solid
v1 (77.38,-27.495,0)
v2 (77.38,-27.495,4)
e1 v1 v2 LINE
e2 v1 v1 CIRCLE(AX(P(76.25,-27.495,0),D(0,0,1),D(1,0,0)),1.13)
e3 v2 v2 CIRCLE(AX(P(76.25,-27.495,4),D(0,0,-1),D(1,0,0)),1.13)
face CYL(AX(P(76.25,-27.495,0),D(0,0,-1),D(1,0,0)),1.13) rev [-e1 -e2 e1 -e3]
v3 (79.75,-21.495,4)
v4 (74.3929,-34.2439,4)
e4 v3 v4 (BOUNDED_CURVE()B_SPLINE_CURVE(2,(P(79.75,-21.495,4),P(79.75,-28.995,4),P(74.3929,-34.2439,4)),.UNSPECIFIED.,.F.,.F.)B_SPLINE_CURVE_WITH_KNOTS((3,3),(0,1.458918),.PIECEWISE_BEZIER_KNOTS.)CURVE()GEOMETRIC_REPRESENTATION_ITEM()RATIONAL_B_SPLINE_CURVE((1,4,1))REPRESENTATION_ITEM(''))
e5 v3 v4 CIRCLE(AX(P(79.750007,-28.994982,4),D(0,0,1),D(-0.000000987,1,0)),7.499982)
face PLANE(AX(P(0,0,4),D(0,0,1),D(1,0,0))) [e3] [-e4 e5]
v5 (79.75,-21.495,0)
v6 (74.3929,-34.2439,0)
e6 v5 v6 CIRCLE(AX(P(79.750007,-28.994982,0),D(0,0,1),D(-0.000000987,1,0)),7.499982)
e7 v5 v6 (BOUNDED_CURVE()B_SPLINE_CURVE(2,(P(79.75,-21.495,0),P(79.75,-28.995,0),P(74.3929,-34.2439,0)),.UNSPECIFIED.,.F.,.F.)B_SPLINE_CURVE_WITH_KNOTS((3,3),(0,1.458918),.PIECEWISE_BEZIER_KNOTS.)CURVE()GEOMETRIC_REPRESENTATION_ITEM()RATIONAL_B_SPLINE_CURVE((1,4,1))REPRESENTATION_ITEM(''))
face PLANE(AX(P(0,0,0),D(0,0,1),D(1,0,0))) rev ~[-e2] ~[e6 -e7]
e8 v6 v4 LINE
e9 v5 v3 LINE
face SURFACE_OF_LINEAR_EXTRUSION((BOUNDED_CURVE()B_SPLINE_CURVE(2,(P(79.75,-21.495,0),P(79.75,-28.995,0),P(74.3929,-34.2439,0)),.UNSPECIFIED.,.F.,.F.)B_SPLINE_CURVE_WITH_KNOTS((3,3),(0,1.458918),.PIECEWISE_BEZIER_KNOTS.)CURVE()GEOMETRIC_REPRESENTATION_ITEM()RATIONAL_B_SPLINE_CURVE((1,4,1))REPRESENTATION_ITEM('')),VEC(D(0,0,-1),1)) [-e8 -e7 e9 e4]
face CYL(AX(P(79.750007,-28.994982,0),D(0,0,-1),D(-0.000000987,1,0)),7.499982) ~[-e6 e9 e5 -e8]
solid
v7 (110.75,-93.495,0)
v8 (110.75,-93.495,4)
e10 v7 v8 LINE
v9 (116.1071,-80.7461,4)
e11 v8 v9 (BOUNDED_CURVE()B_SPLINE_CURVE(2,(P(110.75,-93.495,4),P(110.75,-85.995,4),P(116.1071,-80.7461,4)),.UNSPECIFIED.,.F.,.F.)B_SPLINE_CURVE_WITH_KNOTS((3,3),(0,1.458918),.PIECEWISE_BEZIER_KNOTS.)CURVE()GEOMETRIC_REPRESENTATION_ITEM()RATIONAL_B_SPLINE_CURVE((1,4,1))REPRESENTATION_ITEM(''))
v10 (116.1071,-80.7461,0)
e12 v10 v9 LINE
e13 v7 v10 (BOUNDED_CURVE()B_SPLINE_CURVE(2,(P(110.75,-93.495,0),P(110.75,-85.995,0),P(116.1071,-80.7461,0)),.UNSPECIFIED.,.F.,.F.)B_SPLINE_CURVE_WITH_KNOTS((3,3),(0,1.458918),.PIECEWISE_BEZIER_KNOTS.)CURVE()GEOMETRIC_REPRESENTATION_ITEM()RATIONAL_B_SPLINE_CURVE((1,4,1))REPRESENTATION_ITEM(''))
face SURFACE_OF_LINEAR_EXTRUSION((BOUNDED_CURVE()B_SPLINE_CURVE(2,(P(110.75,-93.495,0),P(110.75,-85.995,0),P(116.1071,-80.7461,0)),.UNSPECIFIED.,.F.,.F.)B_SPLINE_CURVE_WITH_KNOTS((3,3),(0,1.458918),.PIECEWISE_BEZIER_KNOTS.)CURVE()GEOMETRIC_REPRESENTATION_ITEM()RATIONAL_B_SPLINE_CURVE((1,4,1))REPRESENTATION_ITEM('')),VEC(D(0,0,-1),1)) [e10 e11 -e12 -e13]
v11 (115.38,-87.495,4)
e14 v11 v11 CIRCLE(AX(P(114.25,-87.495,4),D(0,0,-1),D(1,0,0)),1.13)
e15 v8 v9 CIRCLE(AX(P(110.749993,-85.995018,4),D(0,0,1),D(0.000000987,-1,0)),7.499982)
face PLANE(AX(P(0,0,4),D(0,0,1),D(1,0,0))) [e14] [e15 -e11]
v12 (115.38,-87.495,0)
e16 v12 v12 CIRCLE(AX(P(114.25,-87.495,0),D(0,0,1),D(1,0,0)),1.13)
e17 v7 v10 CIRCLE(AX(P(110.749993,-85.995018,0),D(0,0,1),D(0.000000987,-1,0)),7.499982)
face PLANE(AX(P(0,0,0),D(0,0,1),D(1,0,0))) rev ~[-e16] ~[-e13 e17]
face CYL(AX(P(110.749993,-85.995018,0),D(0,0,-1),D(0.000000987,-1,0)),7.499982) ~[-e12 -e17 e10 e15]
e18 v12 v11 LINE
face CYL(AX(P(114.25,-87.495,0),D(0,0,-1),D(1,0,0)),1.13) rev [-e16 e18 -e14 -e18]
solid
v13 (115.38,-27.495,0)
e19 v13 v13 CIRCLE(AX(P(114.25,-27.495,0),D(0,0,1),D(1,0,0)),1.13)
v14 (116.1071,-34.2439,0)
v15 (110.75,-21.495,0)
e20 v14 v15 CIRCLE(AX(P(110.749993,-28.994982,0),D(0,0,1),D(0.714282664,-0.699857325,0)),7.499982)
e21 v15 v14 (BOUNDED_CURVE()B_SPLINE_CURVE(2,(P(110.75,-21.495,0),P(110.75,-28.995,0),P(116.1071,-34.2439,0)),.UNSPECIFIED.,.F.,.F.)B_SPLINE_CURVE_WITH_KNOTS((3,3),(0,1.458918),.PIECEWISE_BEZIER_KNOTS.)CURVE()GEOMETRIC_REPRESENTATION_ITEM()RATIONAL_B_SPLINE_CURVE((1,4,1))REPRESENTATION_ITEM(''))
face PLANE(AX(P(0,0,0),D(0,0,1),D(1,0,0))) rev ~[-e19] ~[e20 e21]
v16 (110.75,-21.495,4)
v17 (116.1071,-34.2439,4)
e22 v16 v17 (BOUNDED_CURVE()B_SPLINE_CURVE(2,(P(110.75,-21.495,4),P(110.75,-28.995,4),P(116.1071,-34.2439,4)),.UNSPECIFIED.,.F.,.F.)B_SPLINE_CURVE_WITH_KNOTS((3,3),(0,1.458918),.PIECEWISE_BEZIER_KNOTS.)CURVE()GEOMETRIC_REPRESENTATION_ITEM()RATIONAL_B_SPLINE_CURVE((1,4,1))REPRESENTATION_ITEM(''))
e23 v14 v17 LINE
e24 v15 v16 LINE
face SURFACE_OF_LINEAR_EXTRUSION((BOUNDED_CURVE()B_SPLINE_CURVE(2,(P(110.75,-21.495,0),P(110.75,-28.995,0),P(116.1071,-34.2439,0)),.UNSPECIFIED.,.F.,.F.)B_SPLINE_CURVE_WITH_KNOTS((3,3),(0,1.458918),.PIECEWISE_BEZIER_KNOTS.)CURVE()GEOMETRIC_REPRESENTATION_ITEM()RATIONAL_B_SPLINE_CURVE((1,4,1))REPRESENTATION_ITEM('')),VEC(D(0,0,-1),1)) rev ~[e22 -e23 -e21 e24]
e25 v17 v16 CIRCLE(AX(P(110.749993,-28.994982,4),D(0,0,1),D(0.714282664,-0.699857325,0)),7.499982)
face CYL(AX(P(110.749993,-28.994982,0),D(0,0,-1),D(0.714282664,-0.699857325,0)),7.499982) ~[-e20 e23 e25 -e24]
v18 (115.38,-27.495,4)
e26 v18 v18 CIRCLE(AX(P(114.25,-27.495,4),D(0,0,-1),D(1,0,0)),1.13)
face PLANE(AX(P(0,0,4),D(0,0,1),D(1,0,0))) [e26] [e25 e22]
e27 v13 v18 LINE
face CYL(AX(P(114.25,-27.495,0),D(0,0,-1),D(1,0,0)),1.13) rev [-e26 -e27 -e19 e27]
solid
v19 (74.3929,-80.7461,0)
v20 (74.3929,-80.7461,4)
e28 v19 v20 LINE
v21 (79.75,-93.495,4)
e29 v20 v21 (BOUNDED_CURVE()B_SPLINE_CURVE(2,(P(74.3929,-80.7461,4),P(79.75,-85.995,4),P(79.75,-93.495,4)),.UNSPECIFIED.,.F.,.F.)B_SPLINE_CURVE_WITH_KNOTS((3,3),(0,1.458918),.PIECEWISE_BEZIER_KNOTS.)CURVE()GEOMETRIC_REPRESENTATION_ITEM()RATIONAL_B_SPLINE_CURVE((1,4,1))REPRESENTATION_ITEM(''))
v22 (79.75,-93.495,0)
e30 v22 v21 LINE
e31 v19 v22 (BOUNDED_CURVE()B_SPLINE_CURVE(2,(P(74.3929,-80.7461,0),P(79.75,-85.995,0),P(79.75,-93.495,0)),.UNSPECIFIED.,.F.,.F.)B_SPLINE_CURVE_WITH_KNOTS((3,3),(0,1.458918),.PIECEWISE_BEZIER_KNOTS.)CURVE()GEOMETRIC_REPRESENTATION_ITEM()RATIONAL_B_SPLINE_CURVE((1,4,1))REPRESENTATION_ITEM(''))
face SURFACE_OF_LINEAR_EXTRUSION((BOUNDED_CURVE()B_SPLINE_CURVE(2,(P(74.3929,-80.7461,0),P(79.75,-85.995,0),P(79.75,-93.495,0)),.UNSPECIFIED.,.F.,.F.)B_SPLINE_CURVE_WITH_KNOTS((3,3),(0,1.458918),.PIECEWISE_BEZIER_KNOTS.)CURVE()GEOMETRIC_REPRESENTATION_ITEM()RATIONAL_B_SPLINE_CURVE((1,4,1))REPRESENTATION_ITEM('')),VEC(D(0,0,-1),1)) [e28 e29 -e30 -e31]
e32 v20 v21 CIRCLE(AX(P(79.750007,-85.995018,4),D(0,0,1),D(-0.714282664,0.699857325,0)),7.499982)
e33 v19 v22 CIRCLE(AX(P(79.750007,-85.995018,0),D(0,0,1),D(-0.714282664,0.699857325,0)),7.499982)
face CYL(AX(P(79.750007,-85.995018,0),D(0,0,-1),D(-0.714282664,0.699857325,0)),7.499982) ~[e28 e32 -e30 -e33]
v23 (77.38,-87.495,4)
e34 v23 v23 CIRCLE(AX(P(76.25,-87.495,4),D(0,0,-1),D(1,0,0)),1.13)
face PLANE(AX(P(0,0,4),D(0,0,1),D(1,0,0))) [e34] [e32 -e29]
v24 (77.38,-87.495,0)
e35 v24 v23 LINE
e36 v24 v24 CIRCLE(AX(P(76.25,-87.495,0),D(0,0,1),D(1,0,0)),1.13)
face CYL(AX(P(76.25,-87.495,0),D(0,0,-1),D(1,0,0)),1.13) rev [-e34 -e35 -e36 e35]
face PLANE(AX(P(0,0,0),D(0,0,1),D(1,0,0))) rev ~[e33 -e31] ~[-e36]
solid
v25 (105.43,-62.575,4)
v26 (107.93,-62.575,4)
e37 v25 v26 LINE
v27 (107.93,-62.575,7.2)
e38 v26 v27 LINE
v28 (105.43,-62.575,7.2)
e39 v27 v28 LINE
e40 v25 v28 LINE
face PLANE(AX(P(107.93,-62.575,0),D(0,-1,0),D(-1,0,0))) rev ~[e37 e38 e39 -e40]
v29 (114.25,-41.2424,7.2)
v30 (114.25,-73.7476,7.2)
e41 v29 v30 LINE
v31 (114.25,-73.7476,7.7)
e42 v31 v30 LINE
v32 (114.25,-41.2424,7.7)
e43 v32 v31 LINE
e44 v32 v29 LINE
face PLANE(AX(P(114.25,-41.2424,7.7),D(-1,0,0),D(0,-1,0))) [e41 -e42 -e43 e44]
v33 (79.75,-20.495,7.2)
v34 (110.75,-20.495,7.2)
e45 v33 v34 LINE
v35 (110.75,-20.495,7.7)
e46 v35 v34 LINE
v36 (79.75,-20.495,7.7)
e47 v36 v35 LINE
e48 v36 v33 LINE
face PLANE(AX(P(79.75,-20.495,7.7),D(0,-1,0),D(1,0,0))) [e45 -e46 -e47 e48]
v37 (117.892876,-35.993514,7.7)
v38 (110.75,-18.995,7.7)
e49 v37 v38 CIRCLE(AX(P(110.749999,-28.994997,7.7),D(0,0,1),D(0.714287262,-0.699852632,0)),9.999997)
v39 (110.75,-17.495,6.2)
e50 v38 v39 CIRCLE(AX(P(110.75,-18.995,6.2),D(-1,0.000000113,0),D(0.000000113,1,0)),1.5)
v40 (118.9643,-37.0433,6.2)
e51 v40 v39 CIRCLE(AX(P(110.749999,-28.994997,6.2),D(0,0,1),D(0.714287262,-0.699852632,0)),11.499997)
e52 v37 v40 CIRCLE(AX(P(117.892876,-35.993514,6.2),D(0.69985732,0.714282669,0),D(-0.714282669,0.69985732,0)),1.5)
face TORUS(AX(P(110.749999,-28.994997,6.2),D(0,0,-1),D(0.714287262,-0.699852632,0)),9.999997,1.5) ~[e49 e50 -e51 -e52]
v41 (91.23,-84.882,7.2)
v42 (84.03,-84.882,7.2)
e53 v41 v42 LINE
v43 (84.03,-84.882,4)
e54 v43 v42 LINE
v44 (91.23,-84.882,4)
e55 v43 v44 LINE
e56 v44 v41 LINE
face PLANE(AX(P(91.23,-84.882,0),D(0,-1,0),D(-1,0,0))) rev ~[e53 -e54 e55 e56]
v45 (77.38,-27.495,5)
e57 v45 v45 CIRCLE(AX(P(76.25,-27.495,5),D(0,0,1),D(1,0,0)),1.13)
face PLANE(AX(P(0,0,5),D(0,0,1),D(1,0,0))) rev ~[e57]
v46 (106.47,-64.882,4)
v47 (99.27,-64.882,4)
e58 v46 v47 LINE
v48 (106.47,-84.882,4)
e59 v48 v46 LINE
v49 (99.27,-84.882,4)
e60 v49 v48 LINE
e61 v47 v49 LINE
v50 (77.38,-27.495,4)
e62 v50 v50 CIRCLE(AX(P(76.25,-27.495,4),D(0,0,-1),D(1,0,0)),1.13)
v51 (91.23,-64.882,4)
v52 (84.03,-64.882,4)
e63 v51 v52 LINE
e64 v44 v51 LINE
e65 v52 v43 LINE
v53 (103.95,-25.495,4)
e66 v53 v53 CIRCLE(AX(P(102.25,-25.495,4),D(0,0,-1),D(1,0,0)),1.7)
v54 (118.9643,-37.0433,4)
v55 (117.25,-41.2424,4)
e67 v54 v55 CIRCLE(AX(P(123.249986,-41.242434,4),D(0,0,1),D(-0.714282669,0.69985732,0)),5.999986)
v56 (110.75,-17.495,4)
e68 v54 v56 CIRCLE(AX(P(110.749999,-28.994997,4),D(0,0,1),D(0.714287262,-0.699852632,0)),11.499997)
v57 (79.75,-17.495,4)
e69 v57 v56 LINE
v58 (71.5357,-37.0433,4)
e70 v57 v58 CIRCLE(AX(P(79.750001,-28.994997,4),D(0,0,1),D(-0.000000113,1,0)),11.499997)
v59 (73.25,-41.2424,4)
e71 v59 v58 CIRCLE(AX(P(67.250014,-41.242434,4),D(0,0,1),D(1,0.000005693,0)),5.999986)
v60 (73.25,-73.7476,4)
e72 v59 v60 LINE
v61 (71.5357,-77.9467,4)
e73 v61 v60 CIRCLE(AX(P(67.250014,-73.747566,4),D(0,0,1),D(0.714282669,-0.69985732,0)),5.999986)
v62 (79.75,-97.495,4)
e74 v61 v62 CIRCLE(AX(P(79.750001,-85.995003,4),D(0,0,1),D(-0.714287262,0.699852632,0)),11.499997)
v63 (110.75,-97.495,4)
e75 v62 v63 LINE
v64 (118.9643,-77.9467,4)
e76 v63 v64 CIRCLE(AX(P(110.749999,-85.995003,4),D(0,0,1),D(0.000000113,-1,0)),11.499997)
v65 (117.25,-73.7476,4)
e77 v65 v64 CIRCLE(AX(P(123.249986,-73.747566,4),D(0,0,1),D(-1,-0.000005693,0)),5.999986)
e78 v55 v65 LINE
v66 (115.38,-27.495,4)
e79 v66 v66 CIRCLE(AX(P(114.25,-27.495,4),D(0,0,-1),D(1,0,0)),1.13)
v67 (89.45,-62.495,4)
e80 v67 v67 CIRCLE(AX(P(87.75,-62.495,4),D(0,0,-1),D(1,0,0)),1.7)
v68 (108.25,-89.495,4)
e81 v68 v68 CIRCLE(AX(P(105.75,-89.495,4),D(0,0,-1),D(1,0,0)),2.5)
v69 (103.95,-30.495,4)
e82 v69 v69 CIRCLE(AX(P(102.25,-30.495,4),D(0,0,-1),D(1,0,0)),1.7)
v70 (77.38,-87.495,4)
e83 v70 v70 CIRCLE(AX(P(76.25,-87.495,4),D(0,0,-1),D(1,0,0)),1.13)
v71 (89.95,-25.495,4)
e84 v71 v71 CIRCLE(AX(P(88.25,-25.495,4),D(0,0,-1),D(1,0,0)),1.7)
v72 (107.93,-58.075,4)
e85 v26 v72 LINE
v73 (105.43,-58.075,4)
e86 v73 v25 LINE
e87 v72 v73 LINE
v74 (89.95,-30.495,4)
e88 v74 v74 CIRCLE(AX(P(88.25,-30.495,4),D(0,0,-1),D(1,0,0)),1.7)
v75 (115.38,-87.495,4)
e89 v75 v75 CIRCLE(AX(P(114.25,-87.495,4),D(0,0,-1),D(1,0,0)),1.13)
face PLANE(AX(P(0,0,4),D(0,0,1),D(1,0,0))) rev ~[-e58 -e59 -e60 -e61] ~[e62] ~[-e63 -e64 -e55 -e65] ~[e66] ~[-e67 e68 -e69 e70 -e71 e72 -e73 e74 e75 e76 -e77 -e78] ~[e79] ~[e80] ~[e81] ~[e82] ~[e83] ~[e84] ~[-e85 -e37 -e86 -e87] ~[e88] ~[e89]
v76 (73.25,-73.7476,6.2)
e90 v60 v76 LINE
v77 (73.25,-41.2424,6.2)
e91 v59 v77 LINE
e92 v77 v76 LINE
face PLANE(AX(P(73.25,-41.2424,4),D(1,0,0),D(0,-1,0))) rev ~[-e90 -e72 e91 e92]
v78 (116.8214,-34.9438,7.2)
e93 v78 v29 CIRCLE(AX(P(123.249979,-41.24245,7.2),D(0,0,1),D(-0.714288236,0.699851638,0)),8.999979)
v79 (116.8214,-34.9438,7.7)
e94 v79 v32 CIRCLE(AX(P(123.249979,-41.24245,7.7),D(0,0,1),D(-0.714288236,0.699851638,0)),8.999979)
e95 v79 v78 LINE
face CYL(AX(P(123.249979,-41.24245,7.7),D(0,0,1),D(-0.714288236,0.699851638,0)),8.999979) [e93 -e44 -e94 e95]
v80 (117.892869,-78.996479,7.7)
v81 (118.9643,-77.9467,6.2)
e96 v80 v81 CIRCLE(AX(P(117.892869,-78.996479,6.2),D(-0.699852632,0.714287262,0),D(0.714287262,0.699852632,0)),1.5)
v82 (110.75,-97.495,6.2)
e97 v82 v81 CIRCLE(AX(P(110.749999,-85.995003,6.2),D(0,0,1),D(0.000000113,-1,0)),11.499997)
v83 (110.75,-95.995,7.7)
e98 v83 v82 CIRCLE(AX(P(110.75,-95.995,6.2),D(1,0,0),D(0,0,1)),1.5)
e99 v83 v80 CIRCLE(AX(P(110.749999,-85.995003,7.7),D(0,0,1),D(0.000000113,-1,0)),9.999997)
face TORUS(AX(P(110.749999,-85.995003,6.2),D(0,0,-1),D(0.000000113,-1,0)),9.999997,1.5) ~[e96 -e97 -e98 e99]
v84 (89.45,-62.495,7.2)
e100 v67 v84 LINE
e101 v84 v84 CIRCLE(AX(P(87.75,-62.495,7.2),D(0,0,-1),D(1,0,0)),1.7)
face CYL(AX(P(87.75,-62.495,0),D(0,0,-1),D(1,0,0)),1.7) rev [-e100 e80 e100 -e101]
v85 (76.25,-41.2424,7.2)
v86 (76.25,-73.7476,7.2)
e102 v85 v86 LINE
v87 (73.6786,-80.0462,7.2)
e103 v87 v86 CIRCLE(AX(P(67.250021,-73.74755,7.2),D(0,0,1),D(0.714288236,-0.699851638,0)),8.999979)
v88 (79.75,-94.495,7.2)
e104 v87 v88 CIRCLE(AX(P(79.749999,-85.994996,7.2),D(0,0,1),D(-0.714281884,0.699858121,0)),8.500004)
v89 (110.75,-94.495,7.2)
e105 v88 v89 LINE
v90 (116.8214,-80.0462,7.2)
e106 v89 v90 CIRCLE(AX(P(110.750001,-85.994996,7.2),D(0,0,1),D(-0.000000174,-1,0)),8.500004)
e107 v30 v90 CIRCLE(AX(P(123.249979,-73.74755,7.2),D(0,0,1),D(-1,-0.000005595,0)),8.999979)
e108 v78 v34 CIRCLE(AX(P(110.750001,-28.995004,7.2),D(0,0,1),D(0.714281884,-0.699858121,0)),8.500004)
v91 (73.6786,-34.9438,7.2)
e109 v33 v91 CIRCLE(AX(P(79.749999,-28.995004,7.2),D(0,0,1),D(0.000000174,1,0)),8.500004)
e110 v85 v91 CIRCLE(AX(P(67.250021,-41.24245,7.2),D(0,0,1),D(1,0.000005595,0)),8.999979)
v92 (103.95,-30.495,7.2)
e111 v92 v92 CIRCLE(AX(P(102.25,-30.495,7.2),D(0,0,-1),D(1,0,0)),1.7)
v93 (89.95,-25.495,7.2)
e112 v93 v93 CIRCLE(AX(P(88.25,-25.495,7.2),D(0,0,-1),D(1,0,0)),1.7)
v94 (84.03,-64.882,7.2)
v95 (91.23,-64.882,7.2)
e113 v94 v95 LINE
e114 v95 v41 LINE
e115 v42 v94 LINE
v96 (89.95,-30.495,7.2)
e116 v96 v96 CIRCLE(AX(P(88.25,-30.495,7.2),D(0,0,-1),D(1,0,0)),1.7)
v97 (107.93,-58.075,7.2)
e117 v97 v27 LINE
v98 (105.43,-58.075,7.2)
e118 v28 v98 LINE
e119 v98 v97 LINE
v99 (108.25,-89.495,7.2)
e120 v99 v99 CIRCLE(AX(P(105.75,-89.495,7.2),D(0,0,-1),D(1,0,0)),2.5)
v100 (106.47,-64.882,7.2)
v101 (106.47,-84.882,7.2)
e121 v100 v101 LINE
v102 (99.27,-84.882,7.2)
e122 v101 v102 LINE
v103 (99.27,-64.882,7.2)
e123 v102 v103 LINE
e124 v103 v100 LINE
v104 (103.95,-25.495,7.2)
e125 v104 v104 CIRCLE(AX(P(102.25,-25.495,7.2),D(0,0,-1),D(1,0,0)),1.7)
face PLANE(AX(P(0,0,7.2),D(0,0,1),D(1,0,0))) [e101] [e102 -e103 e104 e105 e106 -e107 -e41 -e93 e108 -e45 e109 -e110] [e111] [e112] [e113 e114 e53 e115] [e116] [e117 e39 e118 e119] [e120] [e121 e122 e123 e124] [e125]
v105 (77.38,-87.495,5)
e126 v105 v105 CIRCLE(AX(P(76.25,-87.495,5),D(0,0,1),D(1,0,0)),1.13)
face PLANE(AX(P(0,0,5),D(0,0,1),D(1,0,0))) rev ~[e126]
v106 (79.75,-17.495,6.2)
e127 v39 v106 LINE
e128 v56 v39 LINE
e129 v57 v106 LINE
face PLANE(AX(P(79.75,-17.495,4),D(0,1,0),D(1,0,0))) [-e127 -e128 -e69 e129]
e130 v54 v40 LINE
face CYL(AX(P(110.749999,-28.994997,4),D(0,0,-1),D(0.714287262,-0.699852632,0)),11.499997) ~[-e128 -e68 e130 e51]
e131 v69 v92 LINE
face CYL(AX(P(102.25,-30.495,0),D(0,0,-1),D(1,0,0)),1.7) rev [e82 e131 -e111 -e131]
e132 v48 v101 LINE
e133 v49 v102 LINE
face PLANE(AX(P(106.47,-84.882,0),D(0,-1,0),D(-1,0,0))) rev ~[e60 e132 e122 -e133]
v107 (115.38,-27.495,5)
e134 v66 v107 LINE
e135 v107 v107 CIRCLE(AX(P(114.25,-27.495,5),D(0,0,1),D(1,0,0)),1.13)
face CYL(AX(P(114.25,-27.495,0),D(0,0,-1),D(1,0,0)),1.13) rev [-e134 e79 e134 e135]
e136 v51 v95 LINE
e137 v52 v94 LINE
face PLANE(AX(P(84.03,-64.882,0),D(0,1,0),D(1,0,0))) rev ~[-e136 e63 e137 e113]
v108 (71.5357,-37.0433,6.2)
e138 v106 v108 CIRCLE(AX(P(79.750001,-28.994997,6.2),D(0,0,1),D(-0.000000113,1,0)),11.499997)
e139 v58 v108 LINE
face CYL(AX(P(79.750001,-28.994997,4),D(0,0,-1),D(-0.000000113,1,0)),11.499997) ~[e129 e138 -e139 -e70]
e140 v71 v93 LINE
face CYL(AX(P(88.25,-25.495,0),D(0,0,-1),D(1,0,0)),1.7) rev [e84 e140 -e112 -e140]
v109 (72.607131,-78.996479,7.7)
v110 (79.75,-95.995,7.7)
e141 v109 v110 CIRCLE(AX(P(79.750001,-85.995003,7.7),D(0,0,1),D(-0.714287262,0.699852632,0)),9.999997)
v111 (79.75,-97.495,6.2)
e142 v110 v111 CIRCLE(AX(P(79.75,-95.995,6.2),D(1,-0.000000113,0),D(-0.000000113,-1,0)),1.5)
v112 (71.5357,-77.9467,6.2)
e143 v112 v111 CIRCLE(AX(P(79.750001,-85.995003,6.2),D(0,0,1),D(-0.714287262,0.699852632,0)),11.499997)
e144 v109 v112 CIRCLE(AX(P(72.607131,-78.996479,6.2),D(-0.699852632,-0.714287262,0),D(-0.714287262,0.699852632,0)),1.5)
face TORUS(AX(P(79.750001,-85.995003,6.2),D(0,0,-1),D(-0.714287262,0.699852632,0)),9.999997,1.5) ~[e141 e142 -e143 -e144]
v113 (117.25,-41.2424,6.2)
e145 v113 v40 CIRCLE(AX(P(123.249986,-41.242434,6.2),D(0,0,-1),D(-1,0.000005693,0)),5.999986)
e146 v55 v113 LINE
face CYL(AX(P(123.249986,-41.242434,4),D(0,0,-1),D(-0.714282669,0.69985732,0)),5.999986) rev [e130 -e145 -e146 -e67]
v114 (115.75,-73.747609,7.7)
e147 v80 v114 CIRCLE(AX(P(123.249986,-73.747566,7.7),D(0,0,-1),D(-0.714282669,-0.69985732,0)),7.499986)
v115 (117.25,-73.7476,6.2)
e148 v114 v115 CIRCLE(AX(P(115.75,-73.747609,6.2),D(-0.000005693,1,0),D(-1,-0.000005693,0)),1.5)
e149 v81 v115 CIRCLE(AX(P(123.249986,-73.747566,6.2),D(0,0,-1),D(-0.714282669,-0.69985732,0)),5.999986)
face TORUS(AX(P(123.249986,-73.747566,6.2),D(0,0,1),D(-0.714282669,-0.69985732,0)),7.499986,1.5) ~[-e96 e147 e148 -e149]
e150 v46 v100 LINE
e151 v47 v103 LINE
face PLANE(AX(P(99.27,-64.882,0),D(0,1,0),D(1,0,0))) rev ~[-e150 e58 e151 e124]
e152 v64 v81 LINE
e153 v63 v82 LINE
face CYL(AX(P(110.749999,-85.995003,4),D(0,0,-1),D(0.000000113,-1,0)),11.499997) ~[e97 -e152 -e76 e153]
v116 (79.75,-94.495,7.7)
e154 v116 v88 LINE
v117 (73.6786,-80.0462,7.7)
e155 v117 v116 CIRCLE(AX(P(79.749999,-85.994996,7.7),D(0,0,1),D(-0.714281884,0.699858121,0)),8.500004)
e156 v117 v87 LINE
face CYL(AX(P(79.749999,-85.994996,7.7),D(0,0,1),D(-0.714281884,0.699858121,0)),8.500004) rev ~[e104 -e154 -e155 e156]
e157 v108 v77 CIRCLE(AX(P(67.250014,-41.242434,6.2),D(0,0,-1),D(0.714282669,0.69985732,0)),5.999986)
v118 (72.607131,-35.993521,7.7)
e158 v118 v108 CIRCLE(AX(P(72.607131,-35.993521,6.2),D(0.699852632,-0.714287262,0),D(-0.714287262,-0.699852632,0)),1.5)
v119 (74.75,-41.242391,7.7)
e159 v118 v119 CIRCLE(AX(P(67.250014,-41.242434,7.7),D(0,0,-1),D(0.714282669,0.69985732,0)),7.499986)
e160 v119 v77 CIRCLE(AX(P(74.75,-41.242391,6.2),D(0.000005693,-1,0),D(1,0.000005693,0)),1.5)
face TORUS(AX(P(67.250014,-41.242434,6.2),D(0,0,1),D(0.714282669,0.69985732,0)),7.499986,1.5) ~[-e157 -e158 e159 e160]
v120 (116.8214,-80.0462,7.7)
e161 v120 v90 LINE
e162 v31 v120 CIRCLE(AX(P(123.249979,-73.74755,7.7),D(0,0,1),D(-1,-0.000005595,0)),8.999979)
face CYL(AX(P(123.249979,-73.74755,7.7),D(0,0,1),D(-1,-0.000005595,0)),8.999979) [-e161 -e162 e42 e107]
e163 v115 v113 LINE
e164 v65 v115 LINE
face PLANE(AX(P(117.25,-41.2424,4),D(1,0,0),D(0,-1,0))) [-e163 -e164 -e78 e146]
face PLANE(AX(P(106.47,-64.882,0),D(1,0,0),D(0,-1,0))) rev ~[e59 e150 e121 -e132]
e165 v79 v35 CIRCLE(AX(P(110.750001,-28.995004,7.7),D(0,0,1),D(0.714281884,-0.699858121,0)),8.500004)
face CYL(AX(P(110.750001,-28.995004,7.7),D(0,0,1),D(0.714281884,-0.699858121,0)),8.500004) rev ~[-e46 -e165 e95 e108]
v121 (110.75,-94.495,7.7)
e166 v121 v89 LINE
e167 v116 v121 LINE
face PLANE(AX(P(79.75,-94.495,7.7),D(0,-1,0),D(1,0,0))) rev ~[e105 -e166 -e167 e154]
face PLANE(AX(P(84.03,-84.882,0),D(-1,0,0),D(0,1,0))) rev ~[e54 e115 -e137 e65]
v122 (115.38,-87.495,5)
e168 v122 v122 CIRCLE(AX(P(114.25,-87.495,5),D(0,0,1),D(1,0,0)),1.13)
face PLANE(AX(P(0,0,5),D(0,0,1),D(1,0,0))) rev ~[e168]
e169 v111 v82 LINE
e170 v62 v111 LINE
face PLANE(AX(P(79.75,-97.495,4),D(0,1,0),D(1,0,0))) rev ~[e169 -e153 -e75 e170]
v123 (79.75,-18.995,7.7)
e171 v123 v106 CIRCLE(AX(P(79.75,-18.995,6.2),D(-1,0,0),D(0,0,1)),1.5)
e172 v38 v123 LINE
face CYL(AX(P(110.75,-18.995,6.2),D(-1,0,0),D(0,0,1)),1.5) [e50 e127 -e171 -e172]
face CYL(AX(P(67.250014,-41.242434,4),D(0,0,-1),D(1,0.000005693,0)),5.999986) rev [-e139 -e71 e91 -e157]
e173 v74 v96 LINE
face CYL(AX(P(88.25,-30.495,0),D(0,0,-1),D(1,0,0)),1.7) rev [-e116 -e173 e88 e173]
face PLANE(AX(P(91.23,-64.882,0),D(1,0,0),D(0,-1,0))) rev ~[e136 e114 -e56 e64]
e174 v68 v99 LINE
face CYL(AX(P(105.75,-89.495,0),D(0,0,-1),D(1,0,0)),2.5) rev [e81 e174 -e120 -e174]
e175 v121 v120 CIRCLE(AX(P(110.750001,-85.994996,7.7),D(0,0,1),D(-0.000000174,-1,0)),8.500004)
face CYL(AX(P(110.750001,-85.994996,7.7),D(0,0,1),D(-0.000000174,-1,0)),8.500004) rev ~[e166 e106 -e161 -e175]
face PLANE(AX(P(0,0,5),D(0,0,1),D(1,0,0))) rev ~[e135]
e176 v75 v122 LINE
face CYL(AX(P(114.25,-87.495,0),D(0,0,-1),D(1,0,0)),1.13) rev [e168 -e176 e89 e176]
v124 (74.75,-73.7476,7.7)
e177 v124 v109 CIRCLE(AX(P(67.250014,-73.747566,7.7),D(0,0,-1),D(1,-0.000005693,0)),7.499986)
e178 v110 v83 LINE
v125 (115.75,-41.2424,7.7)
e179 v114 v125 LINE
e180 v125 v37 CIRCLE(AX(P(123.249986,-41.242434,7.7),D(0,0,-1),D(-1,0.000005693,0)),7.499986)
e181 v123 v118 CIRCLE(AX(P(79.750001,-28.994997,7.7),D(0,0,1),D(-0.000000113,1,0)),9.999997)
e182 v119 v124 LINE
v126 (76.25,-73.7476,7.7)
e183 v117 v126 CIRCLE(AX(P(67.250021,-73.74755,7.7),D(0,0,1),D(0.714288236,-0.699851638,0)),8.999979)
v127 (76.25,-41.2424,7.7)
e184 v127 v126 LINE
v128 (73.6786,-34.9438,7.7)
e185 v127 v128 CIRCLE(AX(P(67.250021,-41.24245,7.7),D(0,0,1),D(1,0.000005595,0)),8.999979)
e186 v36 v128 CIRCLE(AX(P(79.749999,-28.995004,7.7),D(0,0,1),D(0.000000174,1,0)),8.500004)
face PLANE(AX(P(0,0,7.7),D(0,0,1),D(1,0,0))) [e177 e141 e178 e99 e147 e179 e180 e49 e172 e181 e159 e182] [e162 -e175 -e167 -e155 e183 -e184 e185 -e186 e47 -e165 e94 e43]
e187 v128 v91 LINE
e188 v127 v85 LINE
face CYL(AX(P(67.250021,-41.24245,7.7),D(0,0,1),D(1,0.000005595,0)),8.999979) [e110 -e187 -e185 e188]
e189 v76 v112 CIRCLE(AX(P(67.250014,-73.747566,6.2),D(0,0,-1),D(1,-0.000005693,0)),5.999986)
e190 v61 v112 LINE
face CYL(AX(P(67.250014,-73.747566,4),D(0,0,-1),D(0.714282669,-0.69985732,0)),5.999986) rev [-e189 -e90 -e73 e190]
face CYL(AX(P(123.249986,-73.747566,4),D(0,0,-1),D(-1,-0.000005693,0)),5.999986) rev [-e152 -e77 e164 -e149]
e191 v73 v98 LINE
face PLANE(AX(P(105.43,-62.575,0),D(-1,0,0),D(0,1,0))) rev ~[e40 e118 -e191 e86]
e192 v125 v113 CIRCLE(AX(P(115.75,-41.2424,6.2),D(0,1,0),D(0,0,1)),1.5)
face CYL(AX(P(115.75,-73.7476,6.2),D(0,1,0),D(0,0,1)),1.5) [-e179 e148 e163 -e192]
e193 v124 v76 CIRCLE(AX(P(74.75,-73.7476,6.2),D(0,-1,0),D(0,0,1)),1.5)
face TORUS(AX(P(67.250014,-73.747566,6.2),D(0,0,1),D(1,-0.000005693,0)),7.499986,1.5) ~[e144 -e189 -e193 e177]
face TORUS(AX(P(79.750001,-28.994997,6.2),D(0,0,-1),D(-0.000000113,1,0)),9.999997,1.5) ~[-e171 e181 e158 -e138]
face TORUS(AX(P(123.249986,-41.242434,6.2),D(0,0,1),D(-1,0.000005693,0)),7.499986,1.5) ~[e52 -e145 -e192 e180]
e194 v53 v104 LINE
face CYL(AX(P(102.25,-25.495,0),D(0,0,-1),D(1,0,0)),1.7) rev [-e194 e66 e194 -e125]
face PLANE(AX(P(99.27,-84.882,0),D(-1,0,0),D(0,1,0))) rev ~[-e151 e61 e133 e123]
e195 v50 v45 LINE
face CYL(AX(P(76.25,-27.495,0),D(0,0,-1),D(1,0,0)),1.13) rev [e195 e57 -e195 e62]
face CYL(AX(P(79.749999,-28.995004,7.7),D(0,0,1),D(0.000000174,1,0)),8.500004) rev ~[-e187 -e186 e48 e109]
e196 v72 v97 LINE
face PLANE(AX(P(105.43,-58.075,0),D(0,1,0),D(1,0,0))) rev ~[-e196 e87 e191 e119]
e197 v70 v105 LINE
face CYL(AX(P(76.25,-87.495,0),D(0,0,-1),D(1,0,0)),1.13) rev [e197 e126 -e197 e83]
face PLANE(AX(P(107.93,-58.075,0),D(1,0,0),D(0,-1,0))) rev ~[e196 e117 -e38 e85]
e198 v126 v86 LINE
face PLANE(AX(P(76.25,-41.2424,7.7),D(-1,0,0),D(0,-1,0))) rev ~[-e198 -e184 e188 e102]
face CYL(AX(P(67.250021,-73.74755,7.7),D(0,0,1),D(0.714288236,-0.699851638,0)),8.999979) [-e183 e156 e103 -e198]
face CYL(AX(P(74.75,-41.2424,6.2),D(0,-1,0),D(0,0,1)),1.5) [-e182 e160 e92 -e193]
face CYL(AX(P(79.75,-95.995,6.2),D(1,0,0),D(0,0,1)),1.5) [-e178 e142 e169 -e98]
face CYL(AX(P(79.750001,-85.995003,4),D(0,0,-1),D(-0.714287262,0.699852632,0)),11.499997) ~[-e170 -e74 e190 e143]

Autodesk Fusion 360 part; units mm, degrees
sketch "drawing" plane through (0, 0, 0) normal (0, 0, 1) x (1, 0, 0)
  circle A0 centre (76.25, -27.495) radius 1.5
  circle A1 centre (114.25, -27.495) radius 1.5
  circle A2 centre (76.25, -87.495) radius 1.5
  circle A3 centre (114.25, -87.495) radius 1.5
  line L0 (79.75, -93.495) -> (110.75, -93.495)
  line L1 (77.25, -41.2424) -> (77.25, -73.7476)
  line L2 (113.25, -41.2424) -> (113.25, -73.7476)
  arc A4 (79.75, -21.495) -> (74.3929, -34.2439) centre (79.75, -28.995) ccw
  arc A5 (116.1071, -34.2439) -> (110.75, -21.495) centre (110.75, -28.995) ccw
  arc A6 (74.3929, -80.7461) -> (79.75, -93.495) centre (79.75, -85.995) ccw
  arc A7 (110.75, -93.495) -> (116.1071, -80.7461) centre (110.75, -85.995) ccw
  circle A8 centre (76.25, -27.495) radius 3
  circle A9 centre (114.25, -27.495) radius 3
  circle A10 centre (76.25, -87.495) radius 3
  circle A11 centre (114.25, -87.495) radius 3
  line L3 (72.25, -21.495) -> (72.25, -93.495) construction
  line L4 (118.25, -21.495) -> (118.25, -93.495) construction
  circle A12 centre (88.25, -25.495) radius 1.7
  circle A13 centre (88.25, -30.495) radius 1.7
  circle A14 centre (83.25, -26.495) radius 1.5
  circle A15 centre (83.25, -34.995) radius 1.5
  line L5 (95.25, -21.495) -> (95.25, -93.495) construction
  circle A16 centre (106.68, -60.325) radius 0.25 construction
  line L6 (104.93, -55.8) -> (108.43, -55.8) construction
  line L7 (108.43, -55.8) -> (108.43, -64.85) construction
  line L8 (108.43, -64.85) -> (104.93, -64.85) construction
  line L9 (104.93, -64.85) -> (104.93, -55.8) construction
  arc A17 (77.25, -41.2424) -> (74.3929, -34.2439) centre (67.25, -41.2424) ccw
  line L10 (79.75, -28.995) -> (79.75, -21.495) construction
  line L11 (79.75, -28.995) -> (74.3929, -34.2439) construction
  line L12 (67.25, -41.2424) -> (77.25, -41.2424) construction
  line L13 (67.25, -41.2424) -> (74.3929, -34.2439) construction
  arc A18 (116.1071, -34.2439) -> (113.25, -41.2424) centre (123.25, -41.2424) ccw
  arc A19 (74.3929, -80.7461) -> (77.25, -73.7476) centre (67.25, -73.7476) ccw
  arc A20 (113.25, -73.7476) -> (116.1071, -80.7461) centre (123.25, -73.7476) ccw
  circle A21 centre (102.25, -25.495) radius 1.7
  circle A22 centre (102.25, -30.495) radius 1.7
  circle A23 centre (87.75, -62.495) radius 1.7
  line L14 (105.43, -58.075) -> (107.93, -58.075)
  line L15 (107.93, -58.075) -> (107.93, -62.575)
  line L16 (107.93, -62.575) -> (105.43, -62.575)
  line L17 (105.43, -62.575) -> (105.43, -58.075)
  line L18 (105.93, -60.575) -> (107.43, -60.575) construction
  line L19 (107.43, -60.575) -> (107.43, -62.075) construction
  line L20 (107.43, -62.075) -> (105.93, -62.075) construction
  line L21 (105.93, -62.075) -> (105.93, -60.575) construction
  line L22 (105.93, -58.575) -> (107.43, -58.575) construction
  line L23 (107.43, -58.575) -> (107.43, -60.075) construction
  line L24 (107.43, -60.075) -> (105.93, -60.075) construction
  line L25 (105.93, -60.075) -> (105.93, -58.575) construction
  line L26 (106.68, -60.075) -> (106.68, -60.575) construction
  line L27 (81, -24.245) -> (85.5, -24.245) construction
  line L28 (85.5, -24.245) -> (85.5, -28.745) construction
  line L29 (85.5, -28.745) -> (81, -28.745) construction
  line L30 (81, -28.745) -> (81, -24.245) construction
  circle A24 centre (88.25, -25.495) radius 1.9 construction
  circle A25 centre (88.25, -30.495) radius 1.9 construction
  circle A26 centre (102.25, -25.495) radius 1.9 construction
  circle A27 centre (102.25, -30.495) radius 1.9 construction
  circle A28 centre (87.75, -62.495) radius 1.9 construction
  line L31 (81, -32.745) -> (85.5, -32.745) construction
  line L32 (85.5, -32.745) -> (85.5, -37.245) construction
  line L33 (85.5, -37.245) -> (81, -37.245) construction
  line L34 (81, -37.245) -> (81, -32.745) construction
  circle A29 centre (107.25, -26.495) radius 1.5
  line L35 (105, -24.245) -> (109.5, -24.245) construction
  line L36 (109.5, -24.245) -> (109.5, -28.745) construction
  line L37 (109.5, -28.745) -> (105, -28.745) construction
  line L38 (105, -28.745) -> (105, -24.245) construction
  circle A30 centre (105.75, -89.495) radius 1.5
  line L39 (103.5, -87.245) -> (108, -87.245) construction
  line L40 (108, -87.245) -> (108, -91.745) construction
  line L41 (108, -91.745) -> (103.5, -91.745) construction
  line L42 (103.5, -91.745) -> (103.5, -87.245) construction
  line L43 (85.03, -65.882) -> (90.23, -65.882) construction
  line L44 (90.23, -65.882) -> (90.23, -83.882) construction
  line L45 (90.23, -83.882) -> (85.03, -83.882) construction
  line L46 (85.03, -83.882) -> (85.03, -65.882) construction
  line L47 (100.27, -65.882) -> (105.47, -65.882) construction
  line L48 (105.47, -65.882) -> (105.47, -83.882) construction
  line L49 (105.47, -83.882) -> (100.27, -83.882) construction
  line L50 (100.27, -83.882) -> (100.27, -65.882) construction
  line L51 (91.23, -64.882) -> (91.23, -84.882)
  line L52 (91.23, -84.882) -> (84.03, -84.882)
  line L53 (84.03, -84.882) -> (84.03, -64.882)
  line L54 (84.03, -64.882) -> (91.23, -64.882)
  line L55 (106.47, -84.882) -> (99.27, -84.882)
  line L56 (99.27, -84.882) -> (99.27, -64.882)
  line L57 (99.27, -64.882) -> (106.47, -64.882)
  line L58 (106.47, -64.882) -> (106.47, -84.882)
  line L59 (89.25, -21.495) -> (89.25, -18.495)
  line L60 (101.25, -21.495) -> (101.25, -18.495)
  line L61 (90.25, -17.495) -> (100.25, -17.495)
  line L62 (79.75, -21.495) -> (89.25, -21.495)
  line L63 (101.25, -21.495) -> (110.75, -21.495)
  line L64 (89.25, -21.495) -> (101.25, -21.495) construction
  line L65 (110.75, -21.495) -> (110.75, -28.995) construction
  arc A31 (90.25, -17.495) -> (89.25, -18.495) centre (90.25, -18.495) ccw
  arc A32 (101.25, -18.495) -> (100.25, -17.495) centre (100.25, -18.495) ccw
  line L66 (98.975, -19.674) -> (98.975, -20.274) construction
  arc A33 (98.975, -20.274) -> (100.175, -20.274) centre (99.575, -20.274) ccw construction
  line L67 (100.175, -20.274) -> (100.175, -19.674) construction
  arc A34 (100.175, -19.674) -> (98.975, -19.674) centre (99.575, -19.674) ccw construction
  line L68 (99.575, -19.674) -> (99.575, -20.274) construction
  line L69 (99.575, -19.074) -> (99.575, -20.874) construction
  line L70 (99.975, -20.274) -> (99.975, -19.674)
  arc A35 (99.975, -19.674) -> (99.175, -19.674) centre (99.575, -19.674) ccw
  line L71 (99.175, -19.674) -> (99.175, -20.274)
  arc A36 (99.175, -20.274) -> (99.975, -20.274) centre (99.575, -20.274) ccw
  line L72 (99.575, -20.274) -> (99.575, -19.674) construction
  line L73 (91.525, -20.274) -> (91.525, -19.674) construction
  arc A37 (91.525, -19.674) -> (90.325, -19.674) centre (90.925, -19.674) ccw construction
  line L74 (90.325, -19.674) -> (90.325, -20.274) construction
  arc A38 (90.325, -20.274) -> (91.525, -20.274) centre (90.925, -20.274) ccw construction
  line L75 (90.925, -20.274) -> (90.925, -19.674) construction
  line L76 (91.325, -20.274) -> (91.325, -19.674)
  arc A39 (91.325, -19.674) -> (90.525, -19.674) centre (90.925, -19.674) ccw
  line L77 (90.525, -19.674) -> (90.525, -20.274)
  arc A40 (90.525, -20.274) -> (91.325, -20.274) centre (90.925, -20.274) ccw
  line L78 (90.925, -20.274) -> (90.925, -19.674) construction
  line L79 (90.925, -19.074) -> (90.925, -20.874) construction
  line L80 (90.925, -19.274) -> (99.575, -19.274) construction
  line L81 (90.925, -20.674) -> (99.575, -20.674) construction
  line L82 (90.925, -19.074) -> (99.575, -19.074) construction
  line L83 (90.925, -20.874) -> (99.575, -20.874) construction
  line L84 (99.975, -24.574) -> (99.975, -23.774)
  arc A41 (99.975, -23.774) -> (99.175, -23.774) centre (99.575, -23.774) ccw
  line L85 (99.175, -23.774) -> (99.175, -24.574)
  arc A42 (99.175, -24.574) -> (99.975, -24.574) centre (99.575, -24.574) ccw
  line L86 (99.575, -24.574) -> (99.575, -23.774) construction
  line L87 (99.575, -23.374) -> (99.575, -24.974) construction
  line L88 (91.325, -24.574) -> (91.325, -23.774)
  arc A43 (91.325, -23.774) -> (90.525, -23.774) centre (90.925, -23.774) ccw
  line L89 (90.525, -23.774) -> (90.525, -24.574)
  arc A44 (90.525, -24.574) -> (91.325, -24.574) centre (90.925, -24.574) ccw
  line L90 (90.925, -24.574) -> (90.925, -23.774) construction
  line L91 (90.925, -23.374) -> (90.925, -24.974) construction
  line L92 (90.925, -19.974) -> (90.925, -24.174) construction
  line L93 (99.575, -19.974) -> (99.575, -24.174) construction
  line L94 (91.525, -24.574) -> (91.525, -23.774) construction
  arc A45 (91.525, -23.774) -> (90.325, -23.774) centre (90.925, -23.774) ccw construction
  line L95 (90.325, -23.774) -> (90.325, -24.574) construction
  arc A46 (90.325, -24.574) -> (91.525, -24.574) centre (90.925, -24.574) ccw construction
  line L96 (90.925, -24.574) -> (90.925, -23.774) construction
  line L97 (100.175, -24.574) -> (100.175, -23.774) construction
  arc A47 (100.175, -23.774) -> (98.975, -23.774) centre (99.575, -23.774) ccw construction
  line L98 (98.975, -23.774) -> (98.975, -24.574) construction
  arc A48 (98.975, -24.574) -> (100.175, -24.574) centre (99.575, -24.574) ccw construction
  line L99 (99.575, -24.574) -> (99.575, -23.774) construction
  line L100 (90.925, -23.174) -> (99.575, -23.174) construction
  line L101 (90.925, -25.174) -> (99.575, -25.174) construction
  line L102 (90.925, -23.374) -> (99.575, -23.374) construction
  line L103 (90.925, -24.974) -> (99.575, -24.974) construction
  line L104 (90.75, -17.495) -> (99.75, -17.495)
  line L105 (99.75, -17.495) -> (99.75, -24.845)
  line L106 (99.75, -24.845) -> (90.75, -24.845)
  line L107 (90.75, -24.845) -> (90.75, -17.495)
  point P0 (87.63, -74.882)
  point P1 (102.87, -74.882)
  point P2 (99.575, -19.974)
  point P3 (99.575, -19.974)
  point P4 (90.925, -19.974)
  point P5 (90.925, -19.974)
  point P6 (99.575, -24.174)
  point P7 (90.925, -24.174)
  point P8 (90.925, -24.174)
  point P9 (99.575, -24.174)
  dimension "d1" = 76.25
  dimension "d2" = 3
  dimension "d3" = 27.495
  dimension "d4" = 3
  dimension "d5" = 38
  dimension "d6" = 27.495
  dimension "d7" = 1.5
  dimension "d8" = 3.5
  dimension "d9" = 15
  dimension "d10" = 3.5
  dimension "d11" = 1.5
  dimension "d12" = 15
  dimension "d13" = 60
  dimension "d14" = 3
  dimension "d15" = 76.25
  dimension "d16" = 38
  dimension "d17" = 60
  dimension "d18" = 3
  dimension "d19" = 3.5
  dimension "d20" = 1.5
  dimension "d21" = 3.5
  dimension "d22" = 1.5
  dimension "d23" = 15
  dimension "d24" = 15
  dimension "d31" = 6
  dimension "d32" = 6
  dimension "d33" = 6
  dimension "d34" = 6
  dimension "d35" = 72
  dimension "d36" = 46
  dimension "d37" = 6
  dimension "d38" = 5
  dimension "d39" = 5
  dimension "d40" = 4
  dimension "d41" = 4
  dimension "d42" = 12
  dimension "d43" = 2
  dimension "d44" = 3.4
  dimension "d45" = 5
  dimension "d46" = 3.4
  dimension "d47" = 7
  dimension "d48" = 1
  dimension "d49" = 3
  dimension "d50" = 3
  dimension "d51" = 8.5
  dimension "d52" = 19
  dimension "d56" = 106.68
  dimension "d57" = 60.325
  dimension "d58" = 0.5
  dimension "d59" = 4.525
  dimension "d62" = 1.75
  dimension "d75" = 20
  dimension "d76" = 134.415
  dimension "d77" = 44.415
  dimension "d78" = 20
  dimension "d79" = 20
  dimension "d80" = 20
  dimension "d92" = 3.4
  dimension "d93" = 3.4
  dimension "d94" = 14
  dimension "d95" = 3.4
  dimension "d96" = 32
  dimension "d97" = 0.5
  dimension "d98" = 1.25
  dimension "d100" = 1.5
  dimension "d101" = 0.75
  dimension "d102" = 1.5
  dimension "d103" = 0.75
  dimension "d104" = 3.5
  dimension "d105" = 0.5
  dimension "d106" = 1.5
  dimension "d107" = 3.5
  dimension "d108" = 9.05
  dimension "d109" = 2.25
  dimension "d110" = 2.25
  dimension "d111" = 2.5
  dimension "d112" = 0.5
  dimension "d113" = 0.5
  dimension "d114" = 2.25
  dimension "d115" = 4.5
  dimension "d116" = 4.5
  dimension "d117" = 2.25
  dimension "d118" = 3.8
  dimension "d119" = 3.8
  dimension "d120" = 3.8
  dimension "d121" = 3.8
  dimension "d122" = 3.8
  dimension "d123" = 4.5
  dimension "d124" = 4.5
  dimension "d125" = 2.25
  dimension "d126" = 2.25
  dimension "d127" = 5
  dimension "d128" = 3
  dimension "d129" = 2.25
  dimension "d130" = 2.25
  dimension "d131" = 4.5
  dimension "d132" = 4.5
  dimension "d133" = 105.75
  dimension "d134" = 89.495
  dimension "d135" = 3
  dimension "d136" = 4.5
  dimension "d137" = 4.5
  dimension "d138" = 2.25
  dimension "d139" = 2.25
  dimension "d140" = 4
  dimension "d141" = 12.5
  dimension "d142" = 18
  dimension "d143" = 18
  dimension "d144" = 5.2
  dimension "d145" = 5.2
  dimension "d146" = 102.87
  dimension "d147" = 87.63
  dimension "d148" = 74.882
  dimension "d149" = 2.6
  dimension "d150" = 2.6
  dimension "d151" = 9
  dimension "d152" = 9
  dimension "d153" = -1
  dimension "d154" = -1
  dimension "d200" = 18
  dimension "d201" = 18
  dimension "d202" = 12
  dimension "d203" = 6
  dimension "d204" = 4
  dimension "d205" = 1
  dimension "d206" = 1
  dimension "d207" = 1.675
  dimension "d208" = 2.479
  dimension "d209" = 1.2
  dimension "d210" = 1.8
  dimension "d211" = 0.8
  dimension "d212" = 1.2
  dimension "d213" = 2.479
  dimension "d214" = 1.675
  dimension "d215" = 0.4
  dimension "d216" = 0.8
  dimension "d217" = 1.8
  dimension "d218" = 1.2
  dimension "d219" = 1.2
  dimension "d220" = 1.579
  dimension "d226" = 1.8
  dimension "d227" = 1.4
  dimension "d236" = 1.6
  dimension "d237" = 0.8
  dimension "d238" = 1.6
  dimension "d239" = 0.8
  dimension "d240" = 4.2
  dimension "d241" = 4.2
  dimension "d242" = 1.2
  dimension "d243" = 1.2
  dimension "d245" = 1.6
  dimension "d246" = 2
  dimension "d247" = 4.5
  dimension "d248" = 4.5
  dimension "d249" = 7.35
sketch "board_cutout" plane through (0, 0, 0) normal (0, 0, 1) x (1, 0, 0)
  circle A0 centre (76.25, -27.495) radius 1.5
  circle A1 centre (114.25, -27.495) radius 1.5
  circle A2 centre (76.25, -87.495) radius 1.5
  circle A3 centre (114.25, -87.495) radius 1.5
  arc A4 (79.75, -21.495) -> (74.3929, -34.2439) centre (79.75, -28.995) ccw
  arc A5 (77.25, -41.2424) -> (74.3929, -34.2439) centre (67.25, -41.2424) ccw
  line L0 (77.25, -41.2424) -> (77.25, -73.7476)
  arc A6 (74.3929, -80.7461) -> (77.25, -73.7476) centre (67.25, -73.7476) ccw
  arc A7 (74.3929, -80.7461) -> (79.75, -93.495) centre (79.75, -85.995) ccw
  line L1 (79.75, -93.495) -> (110.75, -93.495)
  arc A8 (110.75, -93.495) -> (116.1071, -80.7461) centre (110.75, -85.995) ccw
  arc A9 (113.25, -73.7476) -> (116.1071, -80.7461) centre (123.25, -73.7476) ccw
  line L2 (113.25, -41.2424) -> (113.25, -73.7476)
  arc A10 (116.1071, -34.2439) -> (113.25, -41.2424) centre (123.25, -41.2424) ccw
  arc A11 (116.1071, -34.2439) -> (110.75, -21.495) centre (110.75, -28.995) ccw
  line L3 (79.75, -21.495) -> (89.25, -21.495)
sketch "board_cutout_4mm_offset" plane through (0, 0, 0) normal (0, 0, 1) x (1, 0, 0)
  arc A0 (79.75, -21.495) -> (74.3929, -34.2439) centre (79.75, -28.995) ccw construction
  arc A1 (77.25, -41.2424) -> (74.3929, -34.2439) centre (67.25, -41.2424) ccw construction
  line L0 (77.25, -41.2424) -> (77.25, -73.7476) construction
  arc A2 (74.3929, -80.7461) -> (77.25, -73.7476) centre (67.25, -73.7476) ccw construction
  arc A3 (74.3929, -80.7461) -> (79.75, -93.495) centre (79.75, -85.995) ccw construction
  line L1 (79.75, -93.495) -> (110.75, -93.495) construction
  arc A4 (110.75, -93.495) -> (116.1071, -80.7461) centre (110.75, -85.995) ccw construction
  arc A5 (113.25, -73.7476) -> (116.1071, -80.7461) centre (123.25, -73.7476) ccw construction
  line L2 (113.25, -41.2424) -> (113.25, -73.7476) construction
  arc A6 (116.1071, -34.2439) -> (113.25, -41.2424) centre (123.25, -41.2424) ccw construction
  arc A7 (116.1071, -34.2439) -> (110.75, -21.495) centre (110.75, -28.995) ccw construction
  arc A8 (117.25, -73.7476) -> (118.9643, -77.9467) centre (123.25, -73.7476) ccw
  arc A9 (110.75, -97.495) -> (118.9643, -77.9467) centre (110.75, -85.995) ccw
  line L3 (79.75, -97.495) -> (110.75, -97.495)
  arc A10 (71.5357, -77.9467) -> (79.75, -97.495) centre (79.75, -85.995) ccw
  arc A11 (71.5357, -77.9467) -> (73.25, -73.7476) centre (67.25, -73.7476) ccw
  line L4 (73.25, -41.2424) -> (73.25, -73.7476)
  arc A12 (73.25, -41.2424) -> (71.5357, -37.0433) centre (67.25, -41.2424) ccw
  arc A13 (79.75, -17.495) -> (71.5357, -37.0433) centre (79.75, -28.995) ccw
  line L5 (79.75, -17.495) -> (110.75, -17.495)
  arc A14 (118.9643, -37.0433) -> (110.75, -17.495) centre (110.75, -28.995) ccw
  arc A15 (118.9643, -37.0433) -> (117.25, -41.2424) centre (123.25, -41.2424) ccw
  line L6 (117.25, -41.2424) -> (117.25, -73.7476)
  line L7 (79.75, -21.495) -> (89.25, -21.495)
  dimension "d183" = 80
sketch "pillars" plane through (0, 0, 0) normal (0, 0, 1) x (1, 0, 0)
  arc A0 (79.75, -21.495) -> (74.3929, -34.2439) centre (79.75, -28.995) ccw
  arc A1 (77.25, -41.2424) -> (74.3929, -34.2439) centre (67.25, -41.2424) ccw construction
  line L0 (77.25, -41.2424) -> (77.25, -73.7476) construction
  arc A2 (74.3929, -80.7461) -> (77.25, -73.7476) centre (67.25, -73.7476) ccw construction
  arc A3 (74.3929, -80.7461) -> (79.75, -93.495) centre (79.75, -85.995) ccw
  line L1 (79.75, -93.495) -> (110.75, -93.495) construction
  arc A4 (110.75, -93.495) -> (116.1071, -80.7461) centre (110.75, -85.995) ccw
  arc A5 (113.25, -73.7476) -> (116.1071, -80.7461) centre (123.25, -73.7476) ccw construction
  line L2 (113.25, -41.2424) -> (113.25, -73.7476) construction
  arc A6 (116.1071, -34.2439) -> (113.25, -41.2424) centre (123.25, -41.2424) ccw construction
  arc A7 (116.1071, -34.2439) -> (110.75, -21.495) centre (110.75, -28.995) ccw
  circle A8 centre (76.25, -27.495) radius 1.5 construction
  circle A9 centre (114.25, -27.495) radius 1.5 construction
  circle A10 centre (76.25, -27.495) radius 3 construction
  circle A11 centre (114.25, -27.495) radius 3 construction
  circle A12 centre (76.25, -87.495) radius 1.5 construction
  circle A13 centre (76.25, -87.495) radius 3 construction
  circle A14 centre (114.25, -87.495) radius 1.5 construction
  circle A15 centre (114.25, -87.495) radius 3 construction
  spline S0 degree 2 poles (79.75, -21.495) (79.75, -28.995) (74.3929, -34.2439) knots 0 0 0 1.458918 1.458918 1.458918 weights 1 4 1
  spline S1 degree 2 poles (110.75, -21.495) (110.75, -28.995) (116.1071, -34.2439) knots 0 0 0 1.458918 1.458918 1.458918 weights 1 4 1
  spline S2 degree 2 poles (74.3929, -80.7461) (79.75, -85.995) (79.75, -93.495) knots 0 0 0 1.458918 1.458918 1.458918 weights 1 4 1
  spline S3 degree 2 poles (110.75, -93.495) (110.75, -85.995) (116.1071, -80.7461) knots 0 0 0 1.458918 1.458918 1.458918 weights 1 4 1
  line L3 (79.75, -21.495) -> (89.25, -21.495)
sketch "srew_holes" plane through (0, 0, 0) normal (0, 0, 1) x (1, 0, 0)
  circle A0 centre (76.25, -27.495) radius 1.5
  circle A1 centre (114.25, -27.495) radius 1.5
  circle A2 centre (76.25, -87.495) radius 1.5
  circle A3 centre (114.25, -87.495) radius 1.5
  dimension "d250" = 3
  dimension "d251" = 60
  dimension "d252" = 38
extrude "Extrude5" add sketch "pillars" along normal blind 4 makes body 1 at (116.0352, -23.6737, 2.6667) makes body 2 at (118.1619, -87.1412, 2.6667) makes body 3 at (72.9424, -32.1424, 2.6667) makes body 4 at (72.403, -87.5019, 2.6667)
extrude "Extrude6" add sketch "board_cutout_4mm_offset" along normal blind 3.7 from surface at 4 separate body makes body 5
sketch "led_cutouts" plane through (0, 0, 0) normal (0, 0, 1) x (1, 0, 0)
  circle A0 centre (88.25, -25.495) radius 1.7
  circle A1 centre (88.25, -30.495) radius 1.7
  circle A2 centre (102.25, -25.495) radius 1.7
  circle A3 centre (102.25, -30.495) radius 1.7
  circle A4 centre (87.75, -62.495) radius 1.7
sketch "button_cutouts" plane through (0, 0, 0) normal (0, 0, 1) x (1, 0, 0)
  circle A0 centre (83.25, -26.495) radius 1.5 construction
  circle A1 centre (83.25, -34.995) radius 1.5 construction
  circle A2 centre (107.25, -26.495) radius 1.5 construction
  circle A3 centre (105.75, -89.495) radius 1.5 construction
  line L0 (105.43, -58.075) -> (107.93, -58.075)
  line L1 (105.43, -62.575) -> (105.43, -58.075)
  line L2 (107.93, -62.575) -> (105.43, -62.575)
  line L3 (107.93, -58.075) -> (107.93, -62.575)
  circle A4 centre (105.75, -89.495) radius 2.5
  dimension "d185" = 3
  dimension "d186" = 1
  dimension "d187" = 5
sketch "pinheader_cutouts" plane through (0, 0, 0) normal (0, 0, 1) x (1, 0, 0)
  line L0 (91.23, -84.882) -> (84.03, -84.882)
  line L1 (84.03, -84.882) -> (84.03, -64.882)
  line L2 (84.03, -64.882) -> (91.23, -64.882)
  line L3 (91.23, -64.882) -> (91.23, -84.882)
  line L4 (99.27, -64.882) -> (106.47, -64.882)
  line L5 (99.27, -84.882) -> (99.27, -64.882)
  line L6 (106.47, -84.882) -> (99.27, -84.882)
  line L7 (106.47, -64.882) -> (106.47, -84.882)
extrude "Extrude8" cut sketch "led_cutouts" along normal through all bodies 5
extrude "Extrude9" cut sketch "button_cutouts" along normal through all bodies 5
extrude "Extrude10" cut sketch "pinheader_cutouts" along normal through all bodies 5
sketch "screw_sinkholes" plane through (0, 0, 0) normal (0, 0, 1) x (1, 0, 0)
  circle A0 centre (76.25, -27.495) radius 1.5 construction
  circle A1 centre (114.25, -27.495) radius 1.5 construction
  circle A2 centre (76.25, -87.495) radius 1.5 construction
  circle A3 centre (114.25, -87.495) radius 1.5 construction
  circle A4 centre (76.25, -27.495) radius 3
  circle A5 centre (114.25, -27.495) radius 3
  circle A6 centre (76.25, -87.495) radius 3
  circle A7 centre (114.25, -87.495) radius 3
  dimension "d158" = 3
  dimension "d159" = 3
  dimension "d160" = 3
  dimension "d161" = 3
  dimension "d162" = 6
  dimension "d163" = 6
  dimension "d164" = 6
  dimension "d165" = 6
sketch "screw_holes_2.26mm" plane through (0, 0, 0) normal (0, 0, 1) x (1, 0, 0)
  circle A0 centre (76.25, -87.495) radius 1.5 construction
  circle A1 centre (114.25, -87.495) radius 1.5 construction
  circle A2 centre (114.25, -27.495) radius 1.5 construction
  circle A3 centre (76.25, -27.495) radius 1.5 construction
  circle A4 centre (76.25, -27.495) radius 1.13
  circle A5 centre (114.25, -27.495) radius 1.13
  circle A6 centre (76.25, -87.495) radius 1.13
  circle A7 centre (114.25, -87.495) radius 1.13
  dimension "d188" = 2.26
  dimension "d189" = 2.26
  dimension "d190" = 2.26
  dimension "d191" = 2.26
  dimension "d253" = 38
  dimension "d254" = 60
extrude "Extrude13" cut sketch "screw_holes_2.26mm" along normal blind 5 bodies 1 2 3 4 5
sketch "membrane_area" plane through (0, 0, 0) normal (0, 0, 1) x (1, 0, 0)
  arc A0 (79.75, -17.495) -> (71.5357, -37.0433) centre (79.75, -28.995) ccw construction
  line L0 (79.75, -17.495) -> (110.75, -17.495) construction
  arc A1 (118.9643, -37.0433) -> (110.75, -17.495) centre (110.75, -28.995) ccw construction
  arc A2 (118.9643, -37.0433) -> (117.25, -41.2424) centre (123.25, -41.2424) ccw construction
  line L1 (117.25, -41.2424) -> (117.25, -73.7476) construction
  arc A3 (117.25, -73.7476) -> (118.9643, -77.9467) centre (123.25, -73.7476) ccw construction
  arc A4 (110.75, -97.495) -> (118.9643, -77.9467) centre (110.75, -85.995) ccw construction
  line L2 (79.75, -97.495) -> (110.75, -97.495) construction
  arc A5 (71.5357, -77.9467) -> (79.75, -97.495) centre (79.75, -85.995) ccw construction
  arc A6 (71.5357, -77.9467) -> (73.25, -73.7476) centre (67.25, -73.7476) ccw construction
  line L3 (73.25, -41.2424) -> (73.25, -73.7476) construction
  arc A7 (73.25, -41.2424) -> (71.5357, -37.0433) centre (67.25, -41.2424) ccw construction
  arc A8 (114.25, -73.7476) -> (116.8214, -80.0462) centre (123.25, -73.7476) ccw
  arc A9 (110.75, -94.495) -> (116.8214, -80.0462) centre (110.75, -85.995) ccw
  line L4 (79.75, -94.495) -> (110.75, -94.495)
  arc A10 (73.6786, -80.0462) -> (79.75, -94.495) centre (79.75, -85.995) ccw
  arc A11 (73.6786, -80.0462) -> (76.25, -73.7476) centre (67.25, -73.7476) ccw
  line L5 (76.25, -41.2424) -> (76.25, -73.7476)
  arc A12 (76.25, -41.2424) -> (73.6786, -34.9438) centre (67.25, -41.2424) ccw
  arc A13 (79.75, -20.495) -> (73.6786, -34.9438) centre (79.75, -28.995) ccw
  line L6 (79.75, -20.495) -> (110.75, -20.495)
  arc A14 (116.8214, -34.9438) -> (110.75, -20.495) centre (110.75, -28.995) ccw
  arc A15 (116.8214, -34.9438) -> (114.25, -41.2424) centre (123.25, -41.2424) ccw
  line L7 (114.25, -41.2424) -> (114.25, -73.7476)
  dimension "d194" = 3
extrude "Extrude14" cut sketch "membrane_area" against normal blind 0.5 from surface at 7.7 bodies 5
fillet "Fillet1" radius 1.5 12 edges at (69.148, -90.45, 7.7) (95.25, -97.495, 7.7) (121.352, -90.45, 7.7) (117.6951, -76.0153, 7.7) (117.25, -57.495, 7.7) (117.6951, -38.9747, 7.7) (121.352, -24.54, 7.7) (95.25, -17.495, 7.7) (69.148, -24.54, 7.7) (72.8049, -38.9747, 7.7) (73.25, -57.495, 7.7) (72.8049, -76.0153, 7.7) on bodies 5
